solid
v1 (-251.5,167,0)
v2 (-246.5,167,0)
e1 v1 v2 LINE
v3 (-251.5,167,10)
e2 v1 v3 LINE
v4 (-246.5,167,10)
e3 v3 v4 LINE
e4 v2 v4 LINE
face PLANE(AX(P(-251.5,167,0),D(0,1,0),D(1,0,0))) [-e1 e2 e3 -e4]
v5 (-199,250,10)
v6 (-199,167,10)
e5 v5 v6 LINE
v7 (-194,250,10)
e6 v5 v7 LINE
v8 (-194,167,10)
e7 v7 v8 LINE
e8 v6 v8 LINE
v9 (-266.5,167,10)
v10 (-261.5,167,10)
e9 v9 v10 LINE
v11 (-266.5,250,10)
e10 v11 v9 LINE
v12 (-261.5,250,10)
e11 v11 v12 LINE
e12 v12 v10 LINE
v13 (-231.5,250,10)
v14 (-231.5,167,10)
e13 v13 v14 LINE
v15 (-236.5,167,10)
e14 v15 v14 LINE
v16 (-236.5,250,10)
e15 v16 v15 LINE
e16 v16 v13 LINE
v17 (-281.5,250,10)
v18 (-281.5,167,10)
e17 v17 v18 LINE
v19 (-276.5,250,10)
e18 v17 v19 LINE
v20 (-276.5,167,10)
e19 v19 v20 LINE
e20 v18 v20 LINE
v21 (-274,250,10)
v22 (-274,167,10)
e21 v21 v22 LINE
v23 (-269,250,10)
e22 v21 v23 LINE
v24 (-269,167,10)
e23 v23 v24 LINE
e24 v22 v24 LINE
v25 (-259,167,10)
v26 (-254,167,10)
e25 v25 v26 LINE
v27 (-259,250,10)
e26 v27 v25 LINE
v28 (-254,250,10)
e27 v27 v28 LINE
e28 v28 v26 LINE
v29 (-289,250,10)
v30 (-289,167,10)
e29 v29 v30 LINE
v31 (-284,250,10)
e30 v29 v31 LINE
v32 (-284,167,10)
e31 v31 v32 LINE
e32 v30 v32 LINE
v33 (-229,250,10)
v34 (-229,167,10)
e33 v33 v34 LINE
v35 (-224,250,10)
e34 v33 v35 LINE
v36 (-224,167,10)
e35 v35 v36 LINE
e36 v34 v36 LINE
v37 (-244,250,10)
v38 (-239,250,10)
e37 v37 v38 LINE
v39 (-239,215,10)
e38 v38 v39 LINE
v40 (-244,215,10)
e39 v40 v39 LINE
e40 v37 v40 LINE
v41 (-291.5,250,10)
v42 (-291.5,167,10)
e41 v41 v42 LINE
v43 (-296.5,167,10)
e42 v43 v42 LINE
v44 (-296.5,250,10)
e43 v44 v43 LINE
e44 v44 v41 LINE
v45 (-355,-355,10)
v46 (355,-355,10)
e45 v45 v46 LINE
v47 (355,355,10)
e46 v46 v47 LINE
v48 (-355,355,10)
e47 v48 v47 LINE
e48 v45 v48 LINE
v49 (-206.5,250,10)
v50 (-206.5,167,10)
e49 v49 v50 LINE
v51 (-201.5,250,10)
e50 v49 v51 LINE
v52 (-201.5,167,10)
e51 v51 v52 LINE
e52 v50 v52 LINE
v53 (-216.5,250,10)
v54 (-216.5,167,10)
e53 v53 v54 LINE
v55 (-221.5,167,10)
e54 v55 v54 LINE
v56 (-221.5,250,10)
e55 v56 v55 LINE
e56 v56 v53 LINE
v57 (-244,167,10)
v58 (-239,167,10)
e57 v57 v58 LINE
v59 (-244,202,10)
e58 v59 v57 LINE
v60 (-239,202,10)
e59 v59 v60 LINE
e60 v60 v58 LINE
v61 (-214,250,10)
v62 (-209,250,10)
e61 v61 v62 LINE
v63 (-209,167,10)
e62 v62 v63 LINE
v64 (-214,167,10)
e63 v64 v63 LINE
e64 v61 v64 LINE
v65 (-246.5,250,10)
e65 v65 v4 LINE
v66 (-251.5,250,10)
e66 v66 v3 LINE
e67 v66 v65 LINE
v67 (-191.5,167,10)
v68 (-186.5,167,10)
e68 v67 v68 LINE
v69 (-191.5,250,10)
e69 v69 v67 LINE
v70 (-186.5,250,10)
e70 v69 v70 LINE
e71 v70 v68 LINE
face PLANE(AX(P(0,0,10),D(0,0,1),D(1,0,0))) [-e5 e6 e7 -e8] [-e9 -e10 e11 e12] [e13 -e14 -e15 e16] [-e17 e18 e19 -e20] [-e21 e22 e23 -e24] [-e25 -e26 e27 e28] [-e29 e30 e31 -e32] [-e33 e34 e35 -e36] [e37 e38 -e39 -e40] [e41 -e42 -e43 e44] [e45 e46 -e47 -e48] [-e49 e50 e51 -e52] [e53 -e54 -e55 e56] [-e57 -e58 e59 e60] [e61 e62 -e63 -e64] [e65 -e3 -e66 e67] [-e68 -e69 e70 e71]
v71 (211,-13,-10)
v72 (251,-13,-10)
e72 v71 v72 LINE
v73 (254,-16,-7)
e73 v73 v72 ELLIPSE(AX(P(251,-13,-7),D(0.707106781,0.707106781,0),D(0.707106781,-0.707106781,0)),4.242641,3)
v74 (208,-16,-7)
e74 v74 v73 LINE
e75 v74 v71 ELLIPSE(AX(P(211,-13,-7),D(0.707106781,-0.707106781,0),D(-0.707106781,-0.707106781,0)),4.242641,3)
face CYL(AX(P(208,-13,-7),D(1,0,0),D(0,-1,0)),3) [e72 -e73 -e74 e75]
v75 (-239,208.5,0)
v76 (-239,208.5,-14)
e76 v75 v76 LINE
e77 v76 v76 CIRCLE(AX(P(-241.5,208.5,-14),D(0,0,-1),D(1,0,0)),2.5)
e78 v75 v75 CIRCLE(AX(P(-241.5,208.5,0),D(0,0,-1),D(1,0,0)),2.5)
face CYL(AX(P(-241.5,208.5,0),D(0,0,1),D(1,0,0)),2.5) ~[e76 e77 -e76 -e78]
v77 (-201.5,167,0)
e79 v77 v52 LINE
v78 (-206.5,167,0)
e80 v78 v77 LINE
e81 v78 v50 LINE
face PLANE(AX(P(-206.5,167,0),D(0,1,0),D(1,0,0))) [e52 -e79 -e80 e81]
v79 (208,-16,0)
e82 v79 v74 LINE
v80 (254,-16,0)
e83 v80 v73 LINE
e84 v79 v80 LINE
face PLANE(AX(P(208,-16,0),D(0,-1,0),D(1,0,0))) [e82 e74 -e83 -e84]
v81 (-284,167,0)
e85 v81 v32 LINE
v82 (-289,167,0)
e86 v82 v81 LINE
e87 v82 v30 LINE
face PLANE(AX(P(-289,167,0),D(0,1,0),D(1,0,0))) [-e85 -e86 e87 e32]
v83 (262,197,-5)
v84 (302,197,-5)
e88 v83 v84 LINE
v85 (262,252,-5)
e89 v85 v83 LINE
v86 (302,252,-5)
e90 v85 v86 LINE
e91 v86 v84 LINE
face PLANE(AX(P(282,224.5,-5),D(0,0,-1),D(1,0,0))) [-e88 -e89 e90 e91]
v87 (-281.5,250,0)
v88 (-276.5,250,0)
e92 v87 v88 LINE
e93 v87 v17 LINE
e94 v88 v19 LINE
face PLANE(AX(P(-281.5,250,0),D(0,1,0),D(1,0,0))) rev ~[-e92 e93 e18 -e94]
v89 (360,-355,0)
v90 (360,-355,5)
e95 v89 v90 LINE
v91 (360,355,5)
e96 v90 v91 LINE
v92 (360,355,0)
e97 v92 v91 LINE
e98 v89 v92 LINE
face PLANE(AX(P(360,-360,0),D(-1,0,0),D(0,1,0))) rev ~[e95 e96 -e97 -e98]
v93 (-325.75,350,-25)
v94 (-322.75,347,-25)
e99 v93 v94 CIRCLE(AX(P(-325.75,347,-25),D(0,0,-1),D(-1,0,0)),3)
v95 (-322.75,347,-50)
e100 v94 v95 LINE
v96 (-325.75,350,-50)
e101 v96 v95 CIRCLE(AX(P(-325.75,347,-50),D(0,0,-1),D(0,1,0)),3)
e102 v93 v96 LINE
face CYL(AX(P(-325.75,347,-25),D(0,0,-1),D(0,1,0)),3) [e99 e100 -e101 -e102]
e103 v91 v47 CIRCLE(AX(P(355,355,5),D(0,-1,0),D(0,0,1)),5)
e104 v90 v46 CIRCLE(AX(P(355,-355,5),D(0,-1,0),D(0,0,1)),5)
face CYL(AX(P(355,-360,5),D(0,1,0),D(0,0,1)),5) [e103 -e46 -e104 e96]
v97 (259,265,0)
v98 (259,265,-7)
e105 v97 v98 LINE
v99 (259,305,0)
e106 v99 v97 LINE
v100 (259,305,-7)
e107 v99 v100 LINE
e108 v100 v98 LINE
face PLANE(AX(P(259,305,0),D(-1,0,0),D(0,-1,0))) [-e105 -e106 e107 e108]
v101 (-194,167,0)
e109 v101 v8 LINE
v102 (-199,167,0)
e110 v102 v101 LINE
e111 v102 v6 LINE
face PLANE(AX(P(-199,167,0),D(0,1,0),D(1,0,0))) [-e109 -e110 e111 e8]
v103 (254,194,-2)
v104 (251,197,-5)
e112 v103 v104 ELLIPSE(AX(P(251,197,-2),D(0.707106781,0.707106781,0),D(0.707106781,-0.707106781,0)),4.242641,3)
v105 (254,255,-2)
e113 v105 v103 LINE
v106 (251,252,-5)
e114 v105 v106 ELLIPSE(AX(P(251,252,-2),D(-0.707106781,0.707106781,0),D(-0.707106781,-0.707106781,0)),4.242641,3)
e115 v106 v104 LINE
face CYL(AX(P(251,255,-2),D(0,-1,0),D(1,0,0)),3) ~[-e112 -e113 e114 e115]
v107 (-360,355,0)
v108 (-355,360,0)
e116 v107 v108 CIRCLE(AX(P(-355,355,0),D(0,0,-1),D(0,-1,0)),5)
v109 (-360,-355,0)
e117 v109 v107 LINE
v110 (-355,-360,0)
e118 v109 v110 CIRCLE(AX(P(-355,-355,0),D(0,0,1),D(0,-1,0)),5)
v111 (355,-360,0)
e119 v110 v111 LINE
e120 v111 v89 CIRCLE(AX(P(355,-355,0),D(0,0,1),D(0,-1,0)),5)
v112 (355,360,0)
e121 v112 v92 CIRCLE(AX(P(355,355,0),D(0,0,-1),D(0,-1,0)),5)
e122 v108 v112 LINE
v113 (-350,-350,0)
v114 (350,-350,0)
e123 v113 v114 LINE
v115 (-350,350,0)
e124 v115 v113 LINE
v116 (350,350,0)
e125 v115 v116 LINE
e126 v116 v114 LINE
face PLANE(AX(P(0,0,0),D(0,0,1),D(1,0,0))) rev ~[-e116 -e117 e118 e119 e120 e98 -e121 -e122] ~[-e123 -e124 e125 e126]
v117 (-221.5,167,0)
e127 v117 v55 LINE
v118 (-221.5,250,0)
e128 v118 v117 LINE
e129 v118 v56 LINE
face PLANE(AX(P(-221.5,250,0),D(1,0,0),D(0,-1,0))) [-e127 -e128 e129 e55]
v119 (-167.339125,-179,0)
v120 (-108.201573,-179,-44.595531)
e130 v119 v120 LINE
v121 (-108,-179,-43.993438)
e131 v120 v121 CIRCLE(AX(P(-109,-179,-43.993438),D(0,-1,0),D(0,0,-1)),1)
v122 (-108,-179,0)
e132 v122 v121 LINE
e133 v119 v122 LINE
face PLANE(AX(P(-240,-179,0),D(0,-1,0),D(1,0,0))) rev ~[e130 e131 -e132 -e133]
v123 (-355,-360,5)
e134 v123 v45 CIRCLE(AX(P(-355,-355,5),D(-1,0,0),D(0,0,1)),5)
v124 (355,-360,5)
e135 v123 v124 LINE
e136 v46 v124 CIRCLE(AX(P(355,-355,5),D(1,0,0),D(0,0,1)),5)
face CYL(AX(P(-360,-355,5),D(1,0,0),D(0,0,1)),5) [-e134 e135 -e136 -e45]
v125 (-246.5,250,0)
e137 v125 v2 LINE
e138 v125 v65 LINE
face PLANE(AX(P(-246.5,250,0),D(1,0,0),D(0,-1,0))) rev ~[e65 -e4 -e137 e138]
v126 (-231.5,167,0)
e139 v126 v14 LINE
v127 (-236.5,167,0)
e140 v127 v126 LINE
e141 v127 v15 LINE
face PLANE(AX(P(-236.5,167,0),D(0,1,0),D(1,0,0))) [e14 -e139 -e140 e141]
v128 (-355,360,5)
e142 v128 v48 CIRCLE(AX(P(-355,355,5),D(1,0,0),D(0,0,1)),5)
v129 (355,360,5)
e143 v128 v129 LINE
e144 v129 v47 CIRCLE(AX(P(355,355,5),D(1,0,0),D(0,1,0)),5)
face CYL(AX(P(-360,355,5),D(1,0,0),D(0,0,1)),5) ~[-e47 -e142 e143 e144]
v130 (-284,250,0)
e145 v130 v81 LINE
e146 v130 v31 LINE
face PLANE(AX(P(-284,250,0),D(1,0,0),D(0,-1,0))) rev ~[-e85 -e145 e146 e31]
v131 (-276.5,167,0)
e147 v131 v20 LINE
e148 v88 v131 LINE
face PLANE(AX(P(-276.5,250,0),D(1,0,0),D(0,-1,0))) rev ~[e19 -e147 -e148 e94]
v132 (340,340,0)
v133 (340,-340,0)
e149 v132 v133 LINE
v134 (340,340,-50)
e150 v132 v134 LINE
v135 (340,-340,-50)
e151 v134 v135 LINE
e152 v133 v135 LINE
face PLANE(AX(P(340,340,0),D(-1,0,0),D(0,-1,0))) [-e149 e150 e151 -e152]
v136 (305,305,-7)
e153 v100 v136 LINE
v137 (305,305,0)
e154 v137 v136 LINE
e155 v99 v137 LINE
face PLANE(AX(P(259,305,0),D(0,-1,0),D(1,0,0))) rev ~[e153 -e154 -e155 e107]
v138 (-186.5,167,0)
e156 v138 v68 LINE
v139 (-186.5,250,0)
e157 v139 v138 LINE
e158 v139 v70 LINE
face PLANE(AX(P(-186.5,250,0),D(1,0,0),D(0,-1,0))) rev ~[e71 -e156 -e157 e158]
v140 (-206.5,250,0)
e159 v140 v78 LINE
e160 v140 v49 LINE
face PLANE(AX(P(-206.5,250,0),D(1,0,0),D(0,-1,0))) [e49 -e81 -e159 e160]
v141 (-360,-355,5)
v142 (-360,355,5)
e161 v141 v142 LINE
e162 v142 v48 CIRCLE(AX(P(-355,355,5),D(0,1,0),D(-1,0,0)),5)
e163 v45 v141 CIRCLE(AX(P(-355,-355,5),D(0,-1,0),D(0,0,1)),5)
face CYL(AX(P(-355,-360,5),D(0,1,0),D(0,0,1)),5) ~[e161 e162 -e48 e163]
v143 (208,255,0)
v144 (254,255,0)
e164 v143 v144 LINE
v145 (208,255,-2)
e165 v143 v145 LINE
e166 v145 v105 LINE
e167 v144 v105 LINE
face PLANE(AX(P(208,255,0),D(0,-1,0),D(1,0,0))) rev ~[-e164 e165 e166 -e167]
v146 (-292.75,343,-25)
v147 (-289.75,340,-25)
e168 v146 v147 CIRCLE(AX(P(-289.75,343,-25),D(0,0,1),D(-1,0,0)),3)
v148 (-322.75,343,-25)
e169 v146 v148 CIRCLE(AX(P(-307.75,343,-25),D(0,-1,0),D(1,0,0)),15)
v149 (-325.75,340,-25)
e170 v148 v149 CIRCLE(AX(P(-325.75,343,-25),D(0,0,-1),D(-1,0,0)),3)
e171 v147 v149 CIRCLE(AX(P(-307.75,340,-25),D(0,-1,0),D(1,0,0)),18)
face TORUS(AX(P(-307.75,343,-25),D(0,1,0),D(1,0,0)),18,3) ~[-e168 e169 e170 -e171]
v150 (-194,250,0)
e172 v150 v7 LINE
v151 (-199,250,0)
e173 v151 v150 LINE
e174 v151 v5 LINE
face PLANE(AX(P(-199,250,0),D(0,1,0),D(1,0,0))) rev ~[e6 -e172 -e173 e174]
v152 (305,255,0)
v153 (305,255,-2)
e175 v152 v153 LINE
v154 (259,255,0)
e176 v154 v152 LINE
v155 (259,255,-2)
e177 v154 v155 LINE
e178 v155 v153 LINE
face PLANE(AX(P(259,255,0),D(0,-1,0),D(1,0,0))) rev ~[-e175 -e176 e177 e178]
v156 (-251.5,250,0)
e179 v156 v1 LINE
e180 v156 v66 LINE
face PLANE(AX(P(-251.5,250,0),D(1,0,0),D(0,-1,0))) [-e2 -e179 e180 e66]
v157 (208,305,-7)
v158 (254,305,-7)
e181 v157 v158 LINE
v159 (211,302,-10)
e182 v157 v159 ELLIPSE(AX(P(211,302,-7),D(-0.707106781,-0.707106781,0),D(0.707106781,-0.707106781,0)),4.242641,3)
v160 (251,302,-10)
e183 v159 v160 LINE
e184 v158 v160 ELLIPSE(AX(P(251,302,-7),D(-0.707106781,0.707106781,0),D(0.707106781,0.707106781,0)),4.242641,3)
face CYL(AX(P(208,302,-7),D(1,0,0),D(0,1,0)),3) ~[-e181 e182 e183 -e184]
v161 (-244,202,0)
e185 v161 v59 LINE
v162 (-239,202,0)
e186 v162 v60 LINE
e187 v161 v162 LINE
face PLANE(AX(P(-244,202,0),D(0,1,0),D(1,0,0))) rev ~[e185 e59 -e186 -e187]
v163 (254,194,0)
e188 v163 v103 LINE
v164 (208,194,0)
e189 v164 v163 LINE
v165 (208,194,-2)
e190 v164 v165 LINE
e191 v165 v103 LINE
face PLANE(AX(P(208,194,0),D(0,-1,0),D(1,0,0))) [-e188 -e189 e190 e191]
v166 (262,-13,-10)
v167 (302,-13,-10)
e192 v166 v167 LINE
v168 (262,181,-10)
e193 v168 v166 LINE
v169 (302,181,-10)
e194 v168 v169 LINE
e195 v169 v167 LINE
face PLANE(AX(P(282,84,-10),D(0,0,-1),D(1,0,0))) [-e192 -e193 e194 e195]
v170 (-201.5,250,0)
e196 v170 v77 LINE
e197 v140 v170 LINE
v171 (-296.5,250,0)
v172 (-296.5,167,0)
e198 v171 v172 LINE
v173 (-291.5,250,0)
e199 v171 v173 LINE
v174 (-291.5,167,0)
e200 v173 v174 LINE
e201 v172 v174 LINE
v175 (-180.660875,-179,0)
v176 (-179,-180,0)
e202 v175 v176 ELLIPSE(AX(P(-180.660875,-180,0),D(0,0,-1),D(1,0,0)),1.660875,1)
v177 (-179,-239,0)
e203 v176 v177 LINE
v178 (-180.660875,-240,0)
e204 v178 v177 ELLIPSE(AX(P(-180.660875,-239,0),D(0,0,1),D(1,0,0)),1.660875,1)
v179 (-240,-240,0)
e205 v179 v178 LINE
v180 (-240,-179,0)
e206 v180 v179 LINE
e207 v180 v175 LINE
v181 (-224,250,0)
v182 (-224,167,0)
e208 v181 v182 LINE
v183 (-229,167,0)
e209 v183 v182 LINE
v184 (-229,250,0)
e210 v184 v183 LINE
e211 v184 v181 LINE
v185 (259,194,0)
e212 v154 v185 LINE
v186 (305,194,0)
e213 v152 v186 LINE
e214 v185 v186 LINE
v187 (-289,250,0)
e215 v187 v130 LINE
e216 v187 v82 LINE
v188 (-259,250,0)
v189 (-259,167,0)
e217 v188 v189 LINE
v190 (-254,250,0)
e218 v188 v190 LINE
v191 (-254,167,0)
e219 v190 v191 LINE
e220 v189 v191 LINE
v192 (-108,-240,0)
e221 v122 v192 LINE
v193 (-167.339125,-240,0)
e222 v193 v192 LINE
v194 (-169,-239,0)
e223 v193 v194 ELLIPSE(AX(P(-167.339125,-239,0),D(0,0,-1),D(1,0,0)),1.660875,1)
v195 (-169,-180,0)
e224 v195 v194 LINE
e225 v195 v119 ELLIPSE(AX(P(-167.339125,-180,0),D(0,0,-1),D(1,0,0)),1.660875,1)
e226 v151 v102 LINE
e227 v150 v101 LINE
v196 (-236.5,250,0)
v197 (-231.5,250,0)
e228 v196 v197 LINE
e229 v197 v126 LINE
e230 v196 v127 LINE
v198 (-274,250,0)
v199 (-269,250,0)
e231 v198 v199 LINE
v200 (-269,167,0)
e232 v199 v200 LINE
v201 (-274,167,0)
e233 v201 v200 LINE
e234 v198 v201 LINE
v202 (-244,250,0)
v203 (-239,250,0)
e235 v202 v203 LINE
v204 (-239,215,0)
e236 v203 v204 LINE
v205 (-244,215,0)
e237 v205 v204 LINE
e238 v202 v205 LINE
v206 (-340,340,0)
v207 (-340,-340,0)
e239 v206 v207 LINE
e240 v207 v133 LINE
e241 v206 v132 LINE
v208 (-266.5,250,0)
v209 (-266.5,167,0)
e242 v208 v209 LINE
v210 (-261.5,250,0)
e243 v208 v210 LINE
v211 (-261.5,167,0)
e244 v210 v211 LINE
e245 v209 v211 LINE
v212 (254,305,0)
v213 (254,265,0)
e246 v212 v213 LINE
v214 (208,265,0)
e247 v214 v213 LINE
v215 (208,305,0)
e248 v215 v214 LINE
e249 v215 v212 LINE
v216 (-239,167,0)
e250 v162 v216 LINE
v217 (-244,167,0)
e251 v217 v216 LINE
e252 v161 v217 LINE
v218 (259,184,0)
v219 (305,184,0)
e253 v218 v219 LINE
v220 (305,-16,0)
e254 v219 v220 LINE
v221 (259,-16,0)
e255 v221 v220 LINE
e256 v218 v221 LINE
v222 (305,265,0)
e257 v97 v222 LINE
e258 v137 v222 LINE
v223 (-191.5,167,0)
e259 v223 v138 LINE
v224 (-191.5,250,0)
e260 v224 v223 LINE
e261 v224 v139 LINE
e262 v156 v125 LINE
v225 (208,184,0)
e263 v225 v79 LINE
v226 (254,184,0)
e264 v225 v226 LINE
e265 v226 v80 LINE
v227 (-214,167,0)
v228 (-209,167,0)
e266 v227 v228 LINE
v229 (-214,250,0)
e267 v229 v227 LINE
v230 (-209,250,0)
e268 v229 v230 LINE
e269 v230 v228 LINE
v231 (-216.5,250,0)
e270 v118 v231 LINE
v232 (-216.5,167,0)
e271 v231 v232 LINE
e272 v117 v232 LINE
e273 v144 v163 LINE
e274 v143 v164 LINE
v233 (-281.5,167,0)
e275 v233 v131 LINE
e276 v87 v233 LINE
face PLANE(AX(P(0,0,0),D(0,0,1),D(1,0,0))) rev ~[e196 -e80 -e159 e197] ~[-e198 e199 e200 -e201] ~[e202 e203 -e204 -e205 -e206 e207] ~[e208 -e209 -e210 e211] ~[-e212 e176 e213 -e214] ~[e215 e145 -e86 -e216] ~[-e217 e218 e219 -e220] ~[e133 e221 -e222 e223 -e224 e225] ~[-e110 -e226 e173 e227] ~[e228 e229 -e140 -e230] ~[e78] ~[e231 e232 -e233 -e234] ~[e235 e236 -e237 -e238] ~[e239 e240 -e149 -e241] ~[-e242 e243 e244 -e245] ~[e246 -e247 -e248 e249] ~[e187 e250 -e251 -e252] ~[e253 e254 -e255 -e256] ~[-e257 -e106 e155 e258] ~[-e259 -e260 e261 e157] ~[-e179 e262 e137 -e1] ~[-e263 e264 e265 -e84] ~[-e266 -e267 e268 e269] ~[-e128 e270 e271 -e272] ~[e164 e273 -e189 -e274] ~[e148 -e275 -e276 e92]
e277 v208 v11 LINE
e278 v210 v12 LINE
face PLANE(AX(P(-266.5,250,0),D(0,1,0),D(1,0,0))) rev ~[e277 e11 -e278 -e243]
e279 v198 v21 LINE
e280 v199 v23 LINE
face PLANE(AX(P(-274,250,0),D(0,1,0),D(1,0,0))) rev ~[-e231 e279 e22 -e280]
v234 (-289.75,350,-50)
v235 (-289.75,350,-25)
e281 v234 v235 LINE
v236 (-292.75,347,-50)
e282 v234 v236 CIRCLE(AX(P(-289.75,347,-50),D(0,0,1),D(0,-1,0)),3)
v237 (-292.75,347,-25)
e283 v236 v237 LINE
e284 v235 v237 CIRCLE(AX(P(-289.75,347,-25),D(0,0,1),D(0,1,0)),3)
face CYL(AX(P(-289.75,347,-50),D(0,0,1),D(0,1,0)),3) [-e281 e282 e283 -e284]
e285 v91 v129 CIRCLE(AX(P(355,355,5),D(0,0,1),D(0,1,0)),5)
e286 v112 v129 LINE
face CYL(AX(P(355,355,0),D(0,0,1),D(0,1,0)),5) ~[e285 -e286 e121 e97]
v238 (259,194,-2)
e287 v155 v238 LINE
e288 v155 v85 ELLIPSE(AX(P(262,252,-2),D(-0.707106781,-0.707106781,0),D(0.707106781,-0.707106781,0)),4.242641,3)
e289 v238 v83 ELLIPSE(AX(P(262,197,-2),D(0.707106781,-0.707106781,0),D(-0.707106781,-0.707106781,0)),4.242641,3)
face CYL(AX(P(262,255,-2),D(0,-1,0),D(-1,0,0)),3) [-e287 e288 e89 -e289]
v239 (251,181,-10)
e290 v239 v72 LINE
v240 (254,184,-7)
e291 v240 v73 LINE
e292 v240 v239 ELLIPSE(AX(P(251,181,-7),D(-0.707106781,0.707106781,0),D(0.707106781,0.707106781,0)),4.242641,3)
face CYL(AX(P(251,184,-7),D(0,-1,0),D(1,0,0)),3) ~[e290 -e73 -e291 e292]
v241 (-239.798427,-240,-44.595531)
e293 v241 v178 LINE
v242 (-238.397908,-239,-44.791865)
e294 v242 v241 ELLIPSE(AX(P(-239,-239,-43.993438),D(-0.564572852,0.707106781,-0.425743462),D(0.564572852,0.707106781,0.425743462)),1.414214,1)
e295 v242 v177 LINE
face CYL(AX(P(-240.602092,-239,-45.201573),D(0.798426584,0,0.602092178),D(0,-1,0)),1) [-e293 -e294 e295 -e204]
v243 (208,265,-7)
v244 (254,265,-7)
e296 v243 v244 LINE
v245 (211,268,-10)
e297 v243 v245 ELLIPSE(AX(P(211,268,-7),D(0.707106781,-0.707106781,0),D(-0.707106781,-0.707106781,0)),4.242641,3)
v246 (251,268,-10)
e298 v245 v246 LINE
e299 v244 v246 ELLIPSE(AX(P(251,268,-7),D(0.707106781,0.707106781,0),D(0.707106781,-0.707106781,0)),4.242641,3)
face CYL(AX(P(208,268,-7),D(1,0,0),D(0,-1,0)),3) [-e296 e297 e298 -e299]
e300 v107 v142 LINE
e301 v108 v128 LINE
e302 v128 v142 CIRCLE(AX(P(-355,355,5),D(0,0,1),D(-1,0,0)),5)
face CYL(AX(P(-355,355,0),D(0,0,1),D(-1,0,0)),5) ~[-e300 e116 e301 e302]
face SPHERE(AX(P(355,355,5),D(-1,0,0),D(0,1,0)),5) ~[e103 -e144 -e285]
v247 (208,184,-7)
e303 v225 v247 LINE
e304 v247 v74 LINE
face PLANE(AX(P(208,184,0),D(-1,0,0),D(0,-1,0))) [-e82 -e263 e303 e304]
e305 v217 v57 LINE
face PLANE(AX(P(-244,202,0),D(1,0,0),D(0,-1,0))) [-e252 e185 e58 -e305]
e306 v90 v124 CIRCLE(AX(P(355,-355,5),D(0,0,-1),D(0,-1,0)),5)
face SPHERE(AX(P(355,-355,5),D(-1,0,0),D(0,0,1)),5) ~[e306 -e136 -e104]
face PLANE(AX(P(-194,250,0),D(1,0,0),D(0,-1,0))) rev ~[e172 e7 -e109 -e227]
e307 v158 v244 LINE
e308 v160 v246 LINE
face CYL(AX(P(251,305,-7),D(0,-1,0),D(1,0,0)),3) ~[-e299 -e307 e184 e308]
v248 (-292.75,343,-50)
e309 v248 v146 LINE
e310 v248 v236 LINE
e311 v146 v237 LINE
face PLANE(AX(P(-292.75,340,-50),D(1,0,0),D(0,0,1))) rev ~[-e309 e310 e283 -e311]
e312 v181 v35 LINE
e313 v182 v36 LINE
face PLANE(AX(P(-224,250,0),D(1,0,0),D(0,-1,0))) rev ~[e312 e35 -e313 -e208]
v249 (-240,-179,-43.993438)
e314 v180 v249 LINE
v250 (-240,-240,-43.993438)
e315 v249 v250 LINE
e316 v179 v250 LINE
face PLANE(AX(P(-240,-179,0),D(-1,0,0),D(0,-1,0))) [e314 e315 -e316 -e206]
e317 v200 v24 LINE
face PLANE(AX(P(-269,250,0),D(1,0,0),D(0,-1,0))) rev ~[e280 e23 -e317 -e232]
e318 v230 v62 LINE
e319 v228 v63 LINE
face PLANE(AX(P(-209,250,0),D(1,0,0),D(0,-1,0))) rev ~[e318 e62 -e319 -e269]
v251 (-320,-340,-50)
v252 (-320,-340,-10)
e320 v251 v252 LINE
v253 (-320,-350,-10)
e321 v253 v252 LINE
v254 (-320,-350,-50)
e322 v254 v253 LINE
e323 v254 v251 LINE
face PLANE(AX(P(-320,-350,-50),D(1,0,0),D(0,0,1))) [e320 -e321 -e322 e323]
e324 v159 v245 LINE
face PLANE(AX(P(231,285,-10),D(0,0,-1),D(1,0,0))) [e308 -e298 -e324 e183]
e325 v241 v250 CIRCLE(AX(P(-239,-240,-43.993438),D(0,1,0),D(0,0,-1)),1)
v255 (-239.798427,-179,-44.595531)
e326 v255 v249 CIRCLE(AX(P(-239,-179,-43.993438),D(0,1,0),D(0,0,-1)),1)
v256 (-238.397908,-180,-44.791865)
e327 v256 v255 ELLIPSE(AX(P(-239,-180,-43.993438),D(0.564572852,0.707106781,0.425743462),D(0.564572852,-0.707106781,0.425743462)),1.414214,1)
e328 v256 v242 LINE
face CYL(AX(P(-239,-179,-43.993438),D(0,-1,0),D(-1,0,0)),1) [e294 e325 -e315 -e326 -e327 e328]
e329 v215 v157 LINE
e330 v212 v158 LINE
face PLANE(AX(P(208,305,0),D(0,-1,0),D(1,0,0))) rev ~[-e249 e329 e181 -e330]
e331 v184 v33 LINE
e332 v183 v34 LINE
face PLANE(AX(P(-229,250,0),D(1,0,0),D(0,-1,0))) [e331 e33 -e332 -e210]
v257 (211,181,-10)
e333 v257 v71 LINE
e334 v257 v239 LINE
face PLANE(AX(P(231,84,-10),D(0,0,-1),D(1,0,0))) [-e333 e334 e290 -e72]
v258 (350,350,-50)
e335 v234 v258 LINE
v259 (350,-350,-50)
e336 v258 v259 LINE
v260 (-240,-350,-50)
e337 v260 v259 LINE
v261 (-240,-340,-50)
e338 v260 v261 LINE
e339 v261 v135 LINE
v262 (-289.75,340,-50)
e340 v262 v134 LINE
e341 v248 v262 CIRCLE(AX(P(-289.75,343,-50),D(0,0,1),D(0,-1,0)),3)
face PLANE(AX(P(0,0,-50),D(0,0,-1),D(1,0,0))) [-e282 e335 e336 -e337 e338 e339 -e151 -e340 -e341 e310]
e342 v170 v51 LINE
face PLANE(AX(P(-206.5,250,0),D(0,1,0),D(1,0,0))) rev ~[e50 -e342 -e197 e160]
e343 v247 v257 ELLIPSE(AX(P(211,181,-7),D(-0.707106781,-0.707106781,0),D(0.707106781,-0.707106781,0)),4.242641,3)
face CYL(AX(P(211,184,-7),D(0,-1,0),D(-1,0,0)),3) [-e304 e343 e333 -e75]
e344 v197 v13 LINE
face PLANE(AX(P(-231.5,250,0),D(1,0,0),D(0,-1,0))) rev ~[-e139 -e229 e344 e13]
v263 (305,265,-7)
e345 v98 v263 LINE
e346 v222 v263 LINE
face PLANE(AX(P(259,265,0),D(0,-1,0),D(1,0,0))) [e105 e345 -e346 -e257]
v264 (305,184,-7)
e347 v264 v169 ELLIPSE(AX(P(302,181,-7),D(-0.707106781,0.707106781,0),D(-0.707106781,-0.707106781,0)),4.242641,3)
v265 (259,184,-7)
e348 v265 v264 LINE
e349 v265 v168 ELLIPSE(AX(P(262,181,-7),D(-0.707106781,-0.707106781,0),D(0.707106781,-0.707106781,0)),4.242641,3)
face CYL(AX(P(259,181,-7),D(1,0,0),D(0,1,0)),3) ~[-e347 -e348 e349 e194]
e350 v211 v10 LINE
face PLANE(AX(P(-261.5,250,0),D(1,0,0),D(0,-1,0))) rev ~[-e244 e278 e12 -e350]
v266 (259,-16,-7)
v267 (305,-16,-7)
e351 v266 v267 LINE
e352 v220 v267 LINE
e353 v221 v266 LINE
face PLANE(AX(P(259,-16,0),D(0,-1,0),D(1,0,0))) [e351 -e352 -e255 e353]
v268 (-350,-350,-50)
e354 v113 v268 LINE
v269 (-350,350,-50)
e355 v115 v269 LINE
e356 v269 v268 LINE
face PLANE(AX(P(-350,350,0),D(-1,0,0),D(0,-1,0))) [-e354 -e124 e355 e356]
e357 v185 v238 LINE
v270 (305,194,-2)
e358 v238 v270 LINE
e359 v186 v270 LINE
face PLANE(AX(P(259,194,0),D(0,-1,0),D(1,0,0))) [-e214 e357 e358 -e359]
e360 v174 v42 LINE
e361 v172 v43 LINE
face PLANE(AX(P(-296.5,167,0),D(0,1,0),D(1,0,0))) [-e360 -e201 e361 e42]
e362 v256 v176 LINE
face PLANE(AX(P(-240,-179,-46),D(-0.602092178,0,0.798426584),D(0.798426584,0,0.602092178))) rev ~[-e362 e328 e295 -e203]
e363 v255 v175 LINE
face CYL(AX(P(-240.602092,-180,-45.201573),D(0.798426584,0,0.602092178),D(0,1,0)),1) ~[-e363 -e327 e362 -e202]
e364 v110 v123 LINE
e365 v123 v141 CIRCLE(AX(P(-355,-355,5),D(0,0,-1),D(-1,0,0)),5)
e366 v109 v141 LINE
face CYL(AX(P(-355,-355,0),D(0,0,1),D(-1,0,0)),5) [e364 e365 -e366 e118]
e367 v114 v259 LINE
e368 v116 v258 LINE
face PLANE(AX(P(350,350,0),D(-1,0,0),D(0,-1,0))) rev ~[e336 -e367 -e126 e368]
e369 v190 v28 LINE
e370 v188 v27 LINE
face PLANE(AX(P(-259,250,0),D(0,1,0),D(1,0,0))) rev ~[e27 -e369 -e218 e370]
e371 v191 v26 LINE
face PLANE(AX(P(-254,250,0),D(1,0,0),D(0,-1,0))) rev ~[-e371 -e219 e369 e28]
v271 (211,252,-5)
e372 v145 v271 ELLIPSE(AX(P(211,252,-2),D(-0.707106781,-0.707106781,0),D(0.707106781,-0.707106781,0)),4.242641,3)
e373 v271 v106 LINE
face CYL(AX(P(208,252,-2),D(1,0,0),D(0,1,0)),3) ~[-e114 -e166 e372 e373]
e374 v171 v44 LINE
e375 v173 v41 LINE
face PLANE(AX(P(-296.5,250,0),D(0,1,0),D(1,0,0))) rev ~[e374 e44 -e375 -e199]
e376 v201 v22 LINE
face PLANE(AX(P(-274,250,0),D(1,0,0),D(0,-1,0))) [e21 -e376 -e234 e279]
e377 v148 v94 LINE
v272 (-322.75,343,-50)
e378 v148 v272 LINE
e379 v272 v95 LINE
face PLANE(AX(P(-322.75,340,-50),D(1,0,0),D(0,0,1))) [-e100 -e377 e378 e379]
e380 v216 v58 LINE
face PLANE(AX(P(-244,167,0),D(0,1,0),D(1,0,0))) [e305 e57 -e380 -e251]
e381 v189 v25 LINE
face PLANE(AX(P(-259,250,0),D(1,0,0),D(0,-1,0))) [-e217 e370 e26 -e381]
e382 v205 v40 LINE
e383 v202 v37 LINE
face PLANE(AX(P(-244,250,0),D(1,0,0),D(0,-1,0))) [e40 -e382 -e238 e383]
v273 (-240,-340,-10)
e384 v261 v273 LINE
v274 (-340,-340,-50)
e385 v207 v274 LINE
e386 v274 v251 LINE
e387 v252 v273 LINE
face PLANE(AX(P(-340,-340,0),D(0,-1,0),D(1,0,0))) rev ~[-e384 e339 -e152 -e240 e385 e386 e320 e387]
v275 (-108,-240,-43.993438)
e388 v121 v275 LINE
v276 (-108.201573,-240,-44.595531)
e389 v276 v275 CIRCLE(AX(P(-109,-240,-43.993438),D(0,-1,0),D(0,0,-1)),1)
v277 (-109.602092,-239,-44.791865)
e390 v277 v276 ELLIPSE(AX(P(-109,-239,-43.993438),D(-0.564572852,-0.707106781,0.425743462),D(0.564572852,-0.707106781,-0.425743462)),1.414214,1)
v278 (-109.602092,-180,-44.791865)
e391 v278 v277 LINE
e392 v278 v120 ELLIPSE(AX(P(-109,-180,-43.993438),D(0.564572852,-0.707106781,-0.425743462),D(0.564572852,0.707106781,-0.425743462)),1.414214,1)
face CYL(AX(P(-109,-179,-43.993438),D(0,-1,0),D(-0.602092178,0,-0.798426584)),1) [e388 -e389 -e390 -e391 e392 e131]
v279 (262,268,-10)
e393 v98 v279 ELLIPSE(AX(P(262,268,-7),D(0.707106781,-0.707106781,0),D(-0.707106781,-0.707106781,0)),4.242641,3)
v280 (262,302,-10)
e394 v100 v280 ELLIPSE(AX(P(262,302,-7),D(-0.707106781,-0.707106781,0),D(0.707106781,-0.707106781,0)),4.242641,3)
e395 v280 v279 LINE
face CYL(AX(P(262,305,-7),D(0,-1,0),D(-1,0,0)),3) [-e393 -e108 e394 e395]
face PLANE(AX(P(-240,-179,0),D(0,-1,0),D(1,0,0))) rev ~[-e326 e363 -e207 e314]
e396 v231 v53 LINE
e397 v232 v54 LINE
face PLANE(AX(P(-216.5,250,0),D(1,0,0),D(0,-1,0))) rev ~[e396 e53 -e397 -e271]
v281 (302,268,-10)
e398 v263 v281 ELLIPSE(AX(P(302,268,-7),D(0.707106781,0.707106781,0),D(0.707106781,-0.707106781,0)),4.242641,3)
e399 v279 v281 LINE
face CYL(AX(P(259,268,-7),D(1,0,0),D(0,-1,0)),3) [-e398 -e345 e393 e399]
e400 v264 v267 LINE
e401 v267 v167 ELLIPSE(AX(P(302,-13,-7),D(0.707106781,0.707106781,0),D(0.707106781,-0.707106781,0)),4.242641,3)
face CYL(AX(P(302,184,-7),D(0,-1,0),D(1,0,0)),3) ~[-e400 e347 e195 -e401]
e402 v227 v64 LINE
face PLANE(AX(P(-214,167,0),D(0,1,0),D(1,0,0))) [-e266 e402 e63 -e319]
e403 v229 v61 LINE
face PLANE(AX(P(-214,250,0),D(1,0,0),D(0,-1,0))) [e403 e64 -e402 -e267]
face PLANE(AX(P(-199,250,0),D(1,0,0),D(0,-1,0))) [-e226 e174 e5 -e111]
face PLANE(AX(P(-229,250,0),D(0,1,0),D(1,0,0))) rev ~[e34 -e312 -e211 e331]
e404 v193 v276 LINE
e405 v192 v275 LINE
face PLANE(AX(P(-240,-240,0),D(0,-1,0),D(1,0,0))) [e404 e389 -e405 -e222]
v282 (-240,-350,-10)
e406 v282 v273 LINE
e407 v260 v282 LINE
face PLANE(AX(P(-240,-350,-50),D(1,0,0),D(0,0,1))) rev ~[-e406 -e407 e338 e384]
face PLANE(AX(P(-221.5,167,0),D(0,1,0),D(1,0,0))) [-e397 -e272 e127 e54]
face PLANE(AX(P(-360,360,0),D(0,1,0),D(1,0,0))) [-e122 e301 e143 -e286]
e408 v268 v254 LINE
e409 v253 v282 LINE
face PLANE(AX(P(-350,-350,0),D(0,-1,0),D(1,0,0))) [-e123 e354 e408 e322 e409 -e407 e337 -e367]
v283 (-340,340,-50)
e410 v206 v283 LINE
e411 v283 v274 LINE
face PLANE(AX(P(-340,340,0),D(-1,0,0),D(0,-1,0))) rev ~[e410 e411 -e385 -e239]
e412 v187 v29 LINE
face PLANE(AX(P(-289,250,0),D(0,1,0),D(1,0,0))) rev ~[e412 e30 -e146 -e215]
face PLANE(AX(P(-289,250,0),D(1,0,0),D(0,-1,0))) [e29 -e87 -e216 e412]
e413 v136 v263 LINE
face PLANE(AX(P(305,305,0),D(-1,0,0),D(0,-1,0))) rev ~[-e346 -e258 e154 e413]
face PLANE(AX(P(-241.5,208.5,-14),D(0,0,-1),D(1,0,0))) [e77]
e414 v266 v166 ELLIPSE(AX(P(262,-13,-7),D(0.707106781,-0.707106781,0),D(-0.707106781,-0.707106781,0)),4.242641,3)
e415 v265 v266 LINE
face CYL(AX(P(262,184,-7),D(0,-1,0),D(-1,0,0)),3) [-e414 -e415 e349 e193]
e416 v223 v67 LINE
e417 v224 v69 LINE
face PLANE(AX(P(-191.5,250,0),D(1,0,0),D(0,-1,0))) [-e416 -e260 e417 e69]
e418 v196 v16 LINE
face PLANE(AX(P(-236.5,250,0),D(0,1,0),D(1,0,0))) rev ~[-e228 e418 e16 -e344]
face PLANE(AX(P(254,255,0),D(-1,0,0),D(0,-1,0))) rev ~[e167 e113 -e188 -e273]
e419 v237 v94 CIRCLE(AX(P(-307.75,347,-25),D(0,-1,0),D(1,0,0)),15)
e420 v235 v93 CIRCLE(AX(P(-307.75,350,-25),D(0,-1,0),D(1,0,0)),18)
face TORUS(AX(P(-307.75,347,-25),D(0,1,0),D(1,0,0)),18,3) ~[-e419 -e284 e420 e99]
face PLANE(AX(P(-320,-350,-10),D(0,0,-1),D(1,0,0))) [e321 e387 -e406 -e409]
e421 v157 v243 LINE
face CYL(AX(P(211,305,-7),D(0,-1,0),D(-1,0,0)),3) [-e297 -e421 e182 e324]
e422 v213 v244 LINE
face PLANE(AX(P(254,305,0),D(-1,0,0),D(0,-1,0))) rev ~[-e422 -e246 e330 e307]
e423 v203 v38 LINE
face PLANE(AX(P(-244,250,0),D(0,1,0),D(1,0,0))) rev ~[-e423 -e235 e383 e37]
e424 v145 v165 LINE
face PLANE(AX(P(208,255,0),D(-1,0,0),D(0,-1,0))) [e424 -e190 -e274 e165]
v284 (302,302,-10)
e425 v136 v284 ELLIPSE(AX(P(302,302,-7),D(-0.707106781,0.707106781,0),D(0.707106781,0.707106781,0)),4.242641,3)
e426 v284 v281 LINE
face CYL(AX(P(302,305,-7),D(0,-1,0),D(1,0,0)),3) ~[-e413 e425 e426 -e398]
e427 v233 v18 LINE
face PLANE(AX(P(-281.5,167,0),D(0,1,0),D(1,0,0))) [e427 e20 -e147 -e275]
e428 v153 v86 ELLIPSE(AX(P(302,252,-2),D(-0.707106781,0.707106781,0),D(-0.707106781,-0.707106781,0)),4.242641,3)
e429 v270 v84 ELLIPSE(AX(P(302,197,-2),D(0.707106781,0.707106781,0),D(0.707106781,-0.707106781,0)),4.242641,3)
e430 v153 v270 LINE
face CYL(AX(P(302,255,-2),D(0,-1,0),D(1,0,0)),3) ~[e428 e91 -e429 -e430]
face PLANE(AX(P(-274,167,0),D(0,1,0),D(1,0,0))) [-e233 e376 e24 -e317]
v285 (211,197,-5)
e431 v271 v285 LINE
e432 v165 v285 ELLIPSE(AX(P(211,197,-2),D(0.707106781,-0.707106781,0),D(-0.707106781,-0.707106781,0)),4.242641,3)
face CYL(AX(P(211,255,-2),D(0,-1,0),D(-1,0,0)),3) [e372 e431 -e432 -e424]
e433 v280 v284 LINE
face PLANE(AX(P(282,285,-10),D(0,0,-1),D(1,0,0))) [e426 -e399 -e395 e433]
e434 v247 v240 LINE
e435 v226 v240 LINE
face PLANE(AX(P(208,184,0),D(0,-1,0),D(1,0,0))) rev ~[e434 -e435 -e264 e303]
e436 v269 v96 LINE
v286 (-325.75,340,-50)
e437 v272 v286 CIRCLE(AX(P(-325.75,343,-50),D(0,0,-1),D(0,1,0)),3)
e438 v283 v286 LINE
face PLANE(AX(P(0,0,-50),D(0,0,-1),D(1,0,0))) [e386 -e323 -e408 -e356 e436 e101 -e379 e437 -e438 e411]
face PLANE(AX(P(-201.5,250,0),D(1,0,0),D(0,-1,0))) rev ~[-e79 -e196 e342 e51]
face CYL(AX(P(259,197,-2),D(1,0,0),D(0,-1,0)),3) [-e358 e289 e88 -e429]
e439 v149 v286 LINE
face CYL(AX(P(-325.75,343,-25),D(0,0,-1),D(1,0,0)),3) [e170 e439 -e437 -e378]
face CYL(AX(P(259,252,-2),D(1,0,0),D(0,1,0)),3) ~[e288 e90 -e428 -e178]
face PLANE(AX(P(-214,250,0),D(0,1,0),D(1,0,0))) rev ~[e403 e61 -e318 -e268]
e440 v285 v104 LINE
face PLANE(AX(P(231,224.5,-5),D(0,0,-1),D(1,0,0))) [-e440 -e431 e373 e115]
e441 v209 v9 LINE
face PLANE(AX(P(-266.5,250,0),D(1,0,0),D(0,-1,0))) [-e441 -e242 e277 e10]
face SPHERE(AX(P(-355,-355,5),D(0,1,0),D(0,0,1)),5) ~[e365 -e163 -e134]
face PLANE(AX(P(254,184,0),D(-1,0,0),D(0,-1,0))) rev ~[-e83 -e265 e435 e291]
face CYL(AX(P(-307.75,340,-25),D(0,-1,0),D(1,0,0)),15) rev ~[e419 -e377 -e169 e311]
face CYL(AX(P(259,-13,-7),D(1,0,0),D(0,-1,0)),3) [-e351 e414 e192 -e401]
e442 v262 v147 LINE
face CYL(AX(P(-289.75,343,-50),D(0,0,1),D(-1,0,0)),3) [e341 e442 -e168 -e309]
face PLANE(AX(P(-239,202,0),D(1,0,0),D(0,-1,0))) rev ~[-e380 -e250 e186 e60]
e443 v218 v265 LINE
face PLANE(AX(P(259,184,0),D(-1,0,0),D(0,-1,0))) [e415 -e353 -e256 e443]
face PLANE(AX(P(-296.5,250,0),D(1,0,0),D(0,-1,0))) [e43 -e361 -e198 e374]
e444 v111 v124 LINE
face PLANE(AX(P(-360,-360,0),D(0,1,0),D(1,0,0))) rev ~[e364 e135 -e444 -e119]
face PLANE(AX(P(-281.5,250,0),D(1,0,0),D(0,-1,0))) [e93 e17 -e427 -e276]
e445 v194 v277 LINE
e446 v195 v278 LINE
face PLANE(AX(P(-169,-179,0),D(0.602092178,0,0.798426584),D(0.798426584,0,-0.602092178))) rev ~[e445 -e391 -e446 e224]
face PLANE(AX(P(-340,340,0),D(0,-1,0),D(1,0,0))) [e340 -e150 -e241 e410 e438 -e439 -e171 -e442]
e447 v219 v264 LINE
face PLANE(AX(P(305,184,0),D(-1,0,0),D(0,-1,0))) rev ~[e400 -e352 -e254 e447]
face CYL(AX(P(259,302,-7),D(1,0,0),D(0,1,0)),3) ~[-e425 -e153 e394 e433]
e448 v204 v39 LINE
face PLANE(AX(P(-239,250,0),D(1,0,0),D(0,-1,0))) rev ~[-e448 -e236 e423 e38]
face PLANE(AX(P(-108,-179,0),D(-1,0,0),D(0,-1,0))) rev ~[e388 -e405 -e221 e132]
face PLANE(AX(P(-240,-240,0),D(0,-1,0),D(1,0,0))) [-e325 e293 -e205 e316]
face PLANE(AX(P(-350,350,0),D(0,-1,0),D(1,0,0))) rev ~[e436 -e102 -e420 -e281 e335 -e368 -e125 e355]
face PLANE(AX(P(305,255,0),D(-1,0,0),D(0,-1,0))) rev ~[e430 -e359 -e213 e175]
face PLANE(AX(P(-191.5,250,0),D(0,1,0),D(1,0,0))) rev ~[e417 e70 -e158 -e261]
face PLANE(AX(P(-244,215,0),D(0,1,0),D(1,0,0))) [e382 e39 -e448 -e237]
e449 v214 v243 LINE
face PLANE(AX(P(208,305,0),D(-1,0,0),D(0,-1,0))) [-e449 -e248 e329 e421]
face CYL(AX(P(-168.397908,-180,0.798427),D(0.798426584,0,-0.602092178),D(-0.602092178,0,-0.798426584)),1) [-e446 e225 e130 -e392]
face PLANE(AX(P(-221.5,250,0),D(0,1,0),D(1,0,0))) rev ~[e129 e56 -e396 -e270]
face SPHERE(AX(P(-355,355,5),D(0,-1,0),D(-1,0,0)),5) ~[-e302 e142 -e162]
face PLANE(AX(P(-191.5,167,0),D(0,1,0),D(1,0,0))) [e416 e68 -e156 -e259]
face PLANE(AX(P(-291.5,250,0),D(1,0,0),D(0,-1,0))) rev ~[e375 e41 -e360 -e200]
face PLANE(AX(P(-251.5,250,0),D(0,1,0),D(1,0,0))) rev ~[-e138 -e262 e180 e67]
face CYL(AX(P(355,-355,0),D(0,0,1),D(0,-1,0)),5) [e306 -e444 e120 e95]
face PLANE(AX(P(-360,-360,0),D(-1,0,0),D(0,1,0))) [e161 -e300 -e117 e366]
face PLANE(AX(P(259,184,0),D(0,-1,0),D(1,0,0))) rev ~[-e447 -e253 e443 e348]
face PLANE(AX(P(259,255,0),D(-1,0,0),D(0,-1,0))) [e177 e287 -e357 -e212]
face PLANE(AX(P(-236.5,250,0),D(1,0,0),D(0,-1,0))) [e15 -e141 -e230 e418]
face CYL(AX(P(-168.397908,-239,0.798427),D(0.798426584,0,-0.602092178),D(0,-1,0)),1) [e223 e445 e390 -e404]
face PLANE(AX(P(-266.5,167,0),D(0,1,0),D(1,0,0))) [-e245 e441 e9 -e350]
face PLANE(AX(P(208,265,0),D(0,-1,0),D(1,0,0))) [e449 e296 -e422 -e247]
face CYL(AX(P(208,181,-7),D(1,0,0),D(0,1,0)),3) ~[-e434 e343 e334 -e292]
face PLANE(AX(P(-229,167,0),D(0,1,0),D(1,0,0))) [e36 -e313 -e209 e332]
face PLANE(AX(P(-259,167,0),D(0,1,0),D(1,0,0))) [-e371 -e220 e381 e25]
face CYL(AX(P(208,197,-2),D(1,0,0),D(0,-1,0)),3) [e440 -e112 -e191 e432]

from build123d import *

# Parameters (mm, degrees)
SKETCH_W        = 720
SKETCH_H        = 720
PAD_DEPTH       = 10
SKETCH001_W     = 700
SKETCH001_H     = 700
SKETCH001_W_2   = 680
SKETCH001_H_2   = 680
PAD001_DEPTH    = 50
SKETCH002_W     = 46
SKETCH002_H     = 40
SKETCH002_H_2   = 200
PAD002_DEPTH    = 10
SKETCH003_W     = 46
SKETCH003_H     = 61
PAD003_DEPTH    = 5
SKETCH004_W     = 132
SKETCH004_H     = 61
PAD004_DEPTH    = 46
POCKET_DEPTH    = 61
SKETCH006_R     = 2.5
PAD005_DEPTH    = 14
POCKET001_DEPTH = 10
SKETCH008_W     = 5
SKETCH008_H     = 83
SKETCH008_H_2   = 35
POCKET002_DEPTH = 10
FILLET_R        = 3
FILLET001_R     = 3
FILLET002_R     = 1
FILLET003_R     = 5
SKETCH009_W     = 80
SKETCH009_H     = 40
POCKET003_DEPTH = 10


with BuildPart() as part:
    # Sketch → Pad (new body)
    with BuildSketch(Plane.XY):
        Rectangle(SKETCH_W, SKETCH_H)
    extrude(amount=PAD_DEPTH)

    # Sketch001 (on Face5 of Pad) → Pad001 (join)
    with BuildSketch(Plane(origin=(0, 0, 0), x_dir=(1, 0, 0), z_dir=(0, 0, -1))):
        Rectangle(SKETCH001_W, SKETCH001_H)
        Rectangle(SKETCH001_W_2, SKETCH001_H_2, mode=Mode.SUBTRACT)
    extrude(amount=PAD001_DEPTH)

    # Sketch002 (on Face16 of Pad001) → Pad002 (join)
    with BuildSketch(Plane(origin=(0, 0, 0), x_dir=(1, 0, 0), z_dir=(0, 0, -1))):
        with Locations((282, -285)):
            Rectangle(SKETCH002_W, SKETCH002_H)
        with Locations((231, -285)):
            Rectangle(SKETCH002_W, SKETCH002_H)
        with Locations((282, -84)):
            Rectangle(SKETCH002_W, SKETCH002_H_2)
        with Locations((231, -84)):
            Rectangle(SKETCH002_W, SKETCH002_H_2)
    extrude(amount=PAD002_DEPTH)

    # Sketch003 (on Face16 of Pad002) → Pad003 (join)
    with BuildSketch(Plane(origin=(0, 0, 0), x_dir=(1, 0, 0), z_dir=(0, 0, -1))):
        with Locations((231, -224.5)):
            Rectangle(SKETCH003_W, SKETCH003_H)
        with Locations((282, -224.5)):
            Rectangle(SKETCH003_W, SKETCH003_H)
    extrude(amount=PAD003_DEPTH)

    # Sketch004 (on Face16 of Pad003) → Pad004 (join)
    with BuildSketch(Plane(origin=(0, 0, 0), x_dir=(1, 0, 0), z_dir=(0, 0, -1))):
        with Locations((-174, 209.5)):
            Rectangle(SKETCH004_W, SKETCH004_H)
    extrude(amount=PAD004_DEPTH)

    # Sketch005 (on Face42 of Pad004) → Pocket (cut)
    with BuildSketch(Plane(origin=(0, -179, 0), x_dir=(-1, 0, 0), z_dir=(0, 1, 0))):
        Polygon((108, -46), (240, -46), (179, 0), (169, 0), align=None)
    extrude(amount=-POCKET_DEPTH, mode=Mode.SUBTRACT)

    # Sketch006 (on Face16 of Pocket) → Pad005 (join)
    with BuildSketch(Plane(origin=(0, 0, 0), x_dir=(1, 0, 0), z_dir=(0, 0, -1))):
        with Locations((-241.5, -208.5)):
            Circle(SKETCH006_R)
    extrude(amount=PAD005_DEPTH)

    # Sketch007 (on Face13 of Pad005) → Pocket001 (cut)
    with BuildSketch(Plane.XZ.offset(-340)):
        with BuildLine():
            ThreePointArc((-292.75, -25), (-307.75, -10), (-322.75, -25))
            Line((-322.75, -50), (-322.75, -25))
            Line((-322.75, -50), (-292.75, -50))
            Line((-292.75, -50), (-292.75, -25))
        make_face()
    extrude(amount=-POCKET001_DEPTH, mode=Mode.SUBTRACT)

    # Sketch008 (on Face19 of Pocket001) → Pocket002 (cut)
    with BuildSketch(Plane(origin=(0, 0, 0), x_dir=(1, 0, 0), z_dir=(0, 0, -1))):
        with Locations((-286.5, -208.5)):
            Rectangle(SKETCH008_W, SKETCH008_H)
        with Locations((-279, -208.5)):
            Rectangle(SKETCH008_W, SKETCH008_H)
        with Locations((-271.5, -208.5)):
            Rectangle(SKETCH008_W, SKETCH008_H)
        with Locations((-264, -208.5)):
            Rectangle(SKETCH008_W, SKETCH008_H)
        with Locations((-256.5, -208.5)):
            Rectangle(SKETCH008_W, SKETCH008_H)
        with Locations((-249, -208.5)):
            Rectangle(SKETCH008_W, SKETCH008_H)
        with Locations((-234, -208.5)):
            Rectangle(SKETCH008_W, SKETCH008_H)
        with Locations((-226.5, -208.5)):
            Rectangle(SKETCH008_W, SKETCH008_H)
        with Locations((-241.5, -184.5)):
            Rectangle(SKETCH008_W, SKETCH008_H_2)
        with Locations((-241.5, -232.5)):
            Rectangle(SKETCH008_W, SKETCH008_H_2)
        with Locations((-219, -208.5)):
            Rectangle(SKETCH008_W, SKETCH008_H)
        with Locations((-211.5, -208.5)):
            Rectangle(SKETCH008_W, SKETCH008_H)
        with Locations((-204, -208.5)):
            Rectangle(SKETCH008_W, SKETCH008_H)
        with Locations((-196.5, -208.5)):
            Rectangle(SKETCH008_W, SKETCH008_H)
        with Locations((-294, -208.5)):
            Rectangle(SKETCH008_W, SKETCH008_H)
        with Locations((-189, -208.5)):
            Rectangle(SKETCH008_W, SKETCH008_H)
    extrude(amount=-POCKET002_DEPTH, mode=Mode.SUBTRACT)

    # Fillet
    fillet_edges = [part.edges().sort_by_distance(p)[0] for p in [
        (-307.75, 340, -10),
        (-307.75, 350, -10),
        (-322.75, 340, -37.5),
        (-292.75, 340, -37.5),
        (-292.75, 350, -37.5),
        (-322.75, 350, -37.5),
    ]]
    fillet(fillet_edges, radius=FILLET_R)

    # Fillet001
    fillet001_edges = [part.edges().sort_by_distance(p)[0] for p in [
        (208, 285, -10),
        (231, 305, -10),
        (231, 265, -10),
        (254, 285, -10),
        (259, 285, -10),
        (282, 305, -10),
        (282, 265, -10),
        (305, 285, -10),
        (305, 224.5, -5),
        (282, 255, -5),
        (259, 224.5, -5),
        (282, 194, -5),
        (254, 224.5, -5),
        (231, 255, -5),
        (208, 224.5, -5),
        (231, 194, -5),
        (208, 84, -10),
        (231, 184, -10),
        (254, 84, -10),
        (231, -16, -10),
        (259, 84, -10),
        (282, -16, -10),
        (305, 84, -10),
        (282, 184, -10),
    ]]
    fillet(fillet001_edges, radius=FILLET001_R)

    # Fillet002
    fillet002_edges = [part.edges().sort_by_distance(p)[0] for p in [
        (-209.5, -179, -23),
        (-209.5, -240, -23),
        (-138.5, -179, -23),
        (-138.5, -240, -23),
        (-240, -209.5, -46),
        (-108, -209.5, -46),
    ]]
    fillet(fillet002_edges, radius=FILLET002_R)

    # Fillet003
    fillet003_edges = [part.edges().sort_by_distance(p)[0] for p in [
        (-360, 0, 10),
        (0, -360, 10),
        (-360, -360, 5),
        (-360, 360, 5),
        (0, 360, 10),
        (360, 360, 5),
        (360, 0, 10),
        (360, -360, 5),
    ]]
    fillet(fillet003_edges, radius=FILLET003_R)

    # Sketch009 (on Face123 of Fillet003) → Pocket003 (cut)
    with BuildSketch(Plane.XZ.offset(350)):
        with Locations((-280, -30)):
            Rectangle(SKETCH009_W, SKETCH009_H)
    extrude(amount=-POCKET003_DEPTH, mode=Mode.SUBTRACT)


solid = part.part
